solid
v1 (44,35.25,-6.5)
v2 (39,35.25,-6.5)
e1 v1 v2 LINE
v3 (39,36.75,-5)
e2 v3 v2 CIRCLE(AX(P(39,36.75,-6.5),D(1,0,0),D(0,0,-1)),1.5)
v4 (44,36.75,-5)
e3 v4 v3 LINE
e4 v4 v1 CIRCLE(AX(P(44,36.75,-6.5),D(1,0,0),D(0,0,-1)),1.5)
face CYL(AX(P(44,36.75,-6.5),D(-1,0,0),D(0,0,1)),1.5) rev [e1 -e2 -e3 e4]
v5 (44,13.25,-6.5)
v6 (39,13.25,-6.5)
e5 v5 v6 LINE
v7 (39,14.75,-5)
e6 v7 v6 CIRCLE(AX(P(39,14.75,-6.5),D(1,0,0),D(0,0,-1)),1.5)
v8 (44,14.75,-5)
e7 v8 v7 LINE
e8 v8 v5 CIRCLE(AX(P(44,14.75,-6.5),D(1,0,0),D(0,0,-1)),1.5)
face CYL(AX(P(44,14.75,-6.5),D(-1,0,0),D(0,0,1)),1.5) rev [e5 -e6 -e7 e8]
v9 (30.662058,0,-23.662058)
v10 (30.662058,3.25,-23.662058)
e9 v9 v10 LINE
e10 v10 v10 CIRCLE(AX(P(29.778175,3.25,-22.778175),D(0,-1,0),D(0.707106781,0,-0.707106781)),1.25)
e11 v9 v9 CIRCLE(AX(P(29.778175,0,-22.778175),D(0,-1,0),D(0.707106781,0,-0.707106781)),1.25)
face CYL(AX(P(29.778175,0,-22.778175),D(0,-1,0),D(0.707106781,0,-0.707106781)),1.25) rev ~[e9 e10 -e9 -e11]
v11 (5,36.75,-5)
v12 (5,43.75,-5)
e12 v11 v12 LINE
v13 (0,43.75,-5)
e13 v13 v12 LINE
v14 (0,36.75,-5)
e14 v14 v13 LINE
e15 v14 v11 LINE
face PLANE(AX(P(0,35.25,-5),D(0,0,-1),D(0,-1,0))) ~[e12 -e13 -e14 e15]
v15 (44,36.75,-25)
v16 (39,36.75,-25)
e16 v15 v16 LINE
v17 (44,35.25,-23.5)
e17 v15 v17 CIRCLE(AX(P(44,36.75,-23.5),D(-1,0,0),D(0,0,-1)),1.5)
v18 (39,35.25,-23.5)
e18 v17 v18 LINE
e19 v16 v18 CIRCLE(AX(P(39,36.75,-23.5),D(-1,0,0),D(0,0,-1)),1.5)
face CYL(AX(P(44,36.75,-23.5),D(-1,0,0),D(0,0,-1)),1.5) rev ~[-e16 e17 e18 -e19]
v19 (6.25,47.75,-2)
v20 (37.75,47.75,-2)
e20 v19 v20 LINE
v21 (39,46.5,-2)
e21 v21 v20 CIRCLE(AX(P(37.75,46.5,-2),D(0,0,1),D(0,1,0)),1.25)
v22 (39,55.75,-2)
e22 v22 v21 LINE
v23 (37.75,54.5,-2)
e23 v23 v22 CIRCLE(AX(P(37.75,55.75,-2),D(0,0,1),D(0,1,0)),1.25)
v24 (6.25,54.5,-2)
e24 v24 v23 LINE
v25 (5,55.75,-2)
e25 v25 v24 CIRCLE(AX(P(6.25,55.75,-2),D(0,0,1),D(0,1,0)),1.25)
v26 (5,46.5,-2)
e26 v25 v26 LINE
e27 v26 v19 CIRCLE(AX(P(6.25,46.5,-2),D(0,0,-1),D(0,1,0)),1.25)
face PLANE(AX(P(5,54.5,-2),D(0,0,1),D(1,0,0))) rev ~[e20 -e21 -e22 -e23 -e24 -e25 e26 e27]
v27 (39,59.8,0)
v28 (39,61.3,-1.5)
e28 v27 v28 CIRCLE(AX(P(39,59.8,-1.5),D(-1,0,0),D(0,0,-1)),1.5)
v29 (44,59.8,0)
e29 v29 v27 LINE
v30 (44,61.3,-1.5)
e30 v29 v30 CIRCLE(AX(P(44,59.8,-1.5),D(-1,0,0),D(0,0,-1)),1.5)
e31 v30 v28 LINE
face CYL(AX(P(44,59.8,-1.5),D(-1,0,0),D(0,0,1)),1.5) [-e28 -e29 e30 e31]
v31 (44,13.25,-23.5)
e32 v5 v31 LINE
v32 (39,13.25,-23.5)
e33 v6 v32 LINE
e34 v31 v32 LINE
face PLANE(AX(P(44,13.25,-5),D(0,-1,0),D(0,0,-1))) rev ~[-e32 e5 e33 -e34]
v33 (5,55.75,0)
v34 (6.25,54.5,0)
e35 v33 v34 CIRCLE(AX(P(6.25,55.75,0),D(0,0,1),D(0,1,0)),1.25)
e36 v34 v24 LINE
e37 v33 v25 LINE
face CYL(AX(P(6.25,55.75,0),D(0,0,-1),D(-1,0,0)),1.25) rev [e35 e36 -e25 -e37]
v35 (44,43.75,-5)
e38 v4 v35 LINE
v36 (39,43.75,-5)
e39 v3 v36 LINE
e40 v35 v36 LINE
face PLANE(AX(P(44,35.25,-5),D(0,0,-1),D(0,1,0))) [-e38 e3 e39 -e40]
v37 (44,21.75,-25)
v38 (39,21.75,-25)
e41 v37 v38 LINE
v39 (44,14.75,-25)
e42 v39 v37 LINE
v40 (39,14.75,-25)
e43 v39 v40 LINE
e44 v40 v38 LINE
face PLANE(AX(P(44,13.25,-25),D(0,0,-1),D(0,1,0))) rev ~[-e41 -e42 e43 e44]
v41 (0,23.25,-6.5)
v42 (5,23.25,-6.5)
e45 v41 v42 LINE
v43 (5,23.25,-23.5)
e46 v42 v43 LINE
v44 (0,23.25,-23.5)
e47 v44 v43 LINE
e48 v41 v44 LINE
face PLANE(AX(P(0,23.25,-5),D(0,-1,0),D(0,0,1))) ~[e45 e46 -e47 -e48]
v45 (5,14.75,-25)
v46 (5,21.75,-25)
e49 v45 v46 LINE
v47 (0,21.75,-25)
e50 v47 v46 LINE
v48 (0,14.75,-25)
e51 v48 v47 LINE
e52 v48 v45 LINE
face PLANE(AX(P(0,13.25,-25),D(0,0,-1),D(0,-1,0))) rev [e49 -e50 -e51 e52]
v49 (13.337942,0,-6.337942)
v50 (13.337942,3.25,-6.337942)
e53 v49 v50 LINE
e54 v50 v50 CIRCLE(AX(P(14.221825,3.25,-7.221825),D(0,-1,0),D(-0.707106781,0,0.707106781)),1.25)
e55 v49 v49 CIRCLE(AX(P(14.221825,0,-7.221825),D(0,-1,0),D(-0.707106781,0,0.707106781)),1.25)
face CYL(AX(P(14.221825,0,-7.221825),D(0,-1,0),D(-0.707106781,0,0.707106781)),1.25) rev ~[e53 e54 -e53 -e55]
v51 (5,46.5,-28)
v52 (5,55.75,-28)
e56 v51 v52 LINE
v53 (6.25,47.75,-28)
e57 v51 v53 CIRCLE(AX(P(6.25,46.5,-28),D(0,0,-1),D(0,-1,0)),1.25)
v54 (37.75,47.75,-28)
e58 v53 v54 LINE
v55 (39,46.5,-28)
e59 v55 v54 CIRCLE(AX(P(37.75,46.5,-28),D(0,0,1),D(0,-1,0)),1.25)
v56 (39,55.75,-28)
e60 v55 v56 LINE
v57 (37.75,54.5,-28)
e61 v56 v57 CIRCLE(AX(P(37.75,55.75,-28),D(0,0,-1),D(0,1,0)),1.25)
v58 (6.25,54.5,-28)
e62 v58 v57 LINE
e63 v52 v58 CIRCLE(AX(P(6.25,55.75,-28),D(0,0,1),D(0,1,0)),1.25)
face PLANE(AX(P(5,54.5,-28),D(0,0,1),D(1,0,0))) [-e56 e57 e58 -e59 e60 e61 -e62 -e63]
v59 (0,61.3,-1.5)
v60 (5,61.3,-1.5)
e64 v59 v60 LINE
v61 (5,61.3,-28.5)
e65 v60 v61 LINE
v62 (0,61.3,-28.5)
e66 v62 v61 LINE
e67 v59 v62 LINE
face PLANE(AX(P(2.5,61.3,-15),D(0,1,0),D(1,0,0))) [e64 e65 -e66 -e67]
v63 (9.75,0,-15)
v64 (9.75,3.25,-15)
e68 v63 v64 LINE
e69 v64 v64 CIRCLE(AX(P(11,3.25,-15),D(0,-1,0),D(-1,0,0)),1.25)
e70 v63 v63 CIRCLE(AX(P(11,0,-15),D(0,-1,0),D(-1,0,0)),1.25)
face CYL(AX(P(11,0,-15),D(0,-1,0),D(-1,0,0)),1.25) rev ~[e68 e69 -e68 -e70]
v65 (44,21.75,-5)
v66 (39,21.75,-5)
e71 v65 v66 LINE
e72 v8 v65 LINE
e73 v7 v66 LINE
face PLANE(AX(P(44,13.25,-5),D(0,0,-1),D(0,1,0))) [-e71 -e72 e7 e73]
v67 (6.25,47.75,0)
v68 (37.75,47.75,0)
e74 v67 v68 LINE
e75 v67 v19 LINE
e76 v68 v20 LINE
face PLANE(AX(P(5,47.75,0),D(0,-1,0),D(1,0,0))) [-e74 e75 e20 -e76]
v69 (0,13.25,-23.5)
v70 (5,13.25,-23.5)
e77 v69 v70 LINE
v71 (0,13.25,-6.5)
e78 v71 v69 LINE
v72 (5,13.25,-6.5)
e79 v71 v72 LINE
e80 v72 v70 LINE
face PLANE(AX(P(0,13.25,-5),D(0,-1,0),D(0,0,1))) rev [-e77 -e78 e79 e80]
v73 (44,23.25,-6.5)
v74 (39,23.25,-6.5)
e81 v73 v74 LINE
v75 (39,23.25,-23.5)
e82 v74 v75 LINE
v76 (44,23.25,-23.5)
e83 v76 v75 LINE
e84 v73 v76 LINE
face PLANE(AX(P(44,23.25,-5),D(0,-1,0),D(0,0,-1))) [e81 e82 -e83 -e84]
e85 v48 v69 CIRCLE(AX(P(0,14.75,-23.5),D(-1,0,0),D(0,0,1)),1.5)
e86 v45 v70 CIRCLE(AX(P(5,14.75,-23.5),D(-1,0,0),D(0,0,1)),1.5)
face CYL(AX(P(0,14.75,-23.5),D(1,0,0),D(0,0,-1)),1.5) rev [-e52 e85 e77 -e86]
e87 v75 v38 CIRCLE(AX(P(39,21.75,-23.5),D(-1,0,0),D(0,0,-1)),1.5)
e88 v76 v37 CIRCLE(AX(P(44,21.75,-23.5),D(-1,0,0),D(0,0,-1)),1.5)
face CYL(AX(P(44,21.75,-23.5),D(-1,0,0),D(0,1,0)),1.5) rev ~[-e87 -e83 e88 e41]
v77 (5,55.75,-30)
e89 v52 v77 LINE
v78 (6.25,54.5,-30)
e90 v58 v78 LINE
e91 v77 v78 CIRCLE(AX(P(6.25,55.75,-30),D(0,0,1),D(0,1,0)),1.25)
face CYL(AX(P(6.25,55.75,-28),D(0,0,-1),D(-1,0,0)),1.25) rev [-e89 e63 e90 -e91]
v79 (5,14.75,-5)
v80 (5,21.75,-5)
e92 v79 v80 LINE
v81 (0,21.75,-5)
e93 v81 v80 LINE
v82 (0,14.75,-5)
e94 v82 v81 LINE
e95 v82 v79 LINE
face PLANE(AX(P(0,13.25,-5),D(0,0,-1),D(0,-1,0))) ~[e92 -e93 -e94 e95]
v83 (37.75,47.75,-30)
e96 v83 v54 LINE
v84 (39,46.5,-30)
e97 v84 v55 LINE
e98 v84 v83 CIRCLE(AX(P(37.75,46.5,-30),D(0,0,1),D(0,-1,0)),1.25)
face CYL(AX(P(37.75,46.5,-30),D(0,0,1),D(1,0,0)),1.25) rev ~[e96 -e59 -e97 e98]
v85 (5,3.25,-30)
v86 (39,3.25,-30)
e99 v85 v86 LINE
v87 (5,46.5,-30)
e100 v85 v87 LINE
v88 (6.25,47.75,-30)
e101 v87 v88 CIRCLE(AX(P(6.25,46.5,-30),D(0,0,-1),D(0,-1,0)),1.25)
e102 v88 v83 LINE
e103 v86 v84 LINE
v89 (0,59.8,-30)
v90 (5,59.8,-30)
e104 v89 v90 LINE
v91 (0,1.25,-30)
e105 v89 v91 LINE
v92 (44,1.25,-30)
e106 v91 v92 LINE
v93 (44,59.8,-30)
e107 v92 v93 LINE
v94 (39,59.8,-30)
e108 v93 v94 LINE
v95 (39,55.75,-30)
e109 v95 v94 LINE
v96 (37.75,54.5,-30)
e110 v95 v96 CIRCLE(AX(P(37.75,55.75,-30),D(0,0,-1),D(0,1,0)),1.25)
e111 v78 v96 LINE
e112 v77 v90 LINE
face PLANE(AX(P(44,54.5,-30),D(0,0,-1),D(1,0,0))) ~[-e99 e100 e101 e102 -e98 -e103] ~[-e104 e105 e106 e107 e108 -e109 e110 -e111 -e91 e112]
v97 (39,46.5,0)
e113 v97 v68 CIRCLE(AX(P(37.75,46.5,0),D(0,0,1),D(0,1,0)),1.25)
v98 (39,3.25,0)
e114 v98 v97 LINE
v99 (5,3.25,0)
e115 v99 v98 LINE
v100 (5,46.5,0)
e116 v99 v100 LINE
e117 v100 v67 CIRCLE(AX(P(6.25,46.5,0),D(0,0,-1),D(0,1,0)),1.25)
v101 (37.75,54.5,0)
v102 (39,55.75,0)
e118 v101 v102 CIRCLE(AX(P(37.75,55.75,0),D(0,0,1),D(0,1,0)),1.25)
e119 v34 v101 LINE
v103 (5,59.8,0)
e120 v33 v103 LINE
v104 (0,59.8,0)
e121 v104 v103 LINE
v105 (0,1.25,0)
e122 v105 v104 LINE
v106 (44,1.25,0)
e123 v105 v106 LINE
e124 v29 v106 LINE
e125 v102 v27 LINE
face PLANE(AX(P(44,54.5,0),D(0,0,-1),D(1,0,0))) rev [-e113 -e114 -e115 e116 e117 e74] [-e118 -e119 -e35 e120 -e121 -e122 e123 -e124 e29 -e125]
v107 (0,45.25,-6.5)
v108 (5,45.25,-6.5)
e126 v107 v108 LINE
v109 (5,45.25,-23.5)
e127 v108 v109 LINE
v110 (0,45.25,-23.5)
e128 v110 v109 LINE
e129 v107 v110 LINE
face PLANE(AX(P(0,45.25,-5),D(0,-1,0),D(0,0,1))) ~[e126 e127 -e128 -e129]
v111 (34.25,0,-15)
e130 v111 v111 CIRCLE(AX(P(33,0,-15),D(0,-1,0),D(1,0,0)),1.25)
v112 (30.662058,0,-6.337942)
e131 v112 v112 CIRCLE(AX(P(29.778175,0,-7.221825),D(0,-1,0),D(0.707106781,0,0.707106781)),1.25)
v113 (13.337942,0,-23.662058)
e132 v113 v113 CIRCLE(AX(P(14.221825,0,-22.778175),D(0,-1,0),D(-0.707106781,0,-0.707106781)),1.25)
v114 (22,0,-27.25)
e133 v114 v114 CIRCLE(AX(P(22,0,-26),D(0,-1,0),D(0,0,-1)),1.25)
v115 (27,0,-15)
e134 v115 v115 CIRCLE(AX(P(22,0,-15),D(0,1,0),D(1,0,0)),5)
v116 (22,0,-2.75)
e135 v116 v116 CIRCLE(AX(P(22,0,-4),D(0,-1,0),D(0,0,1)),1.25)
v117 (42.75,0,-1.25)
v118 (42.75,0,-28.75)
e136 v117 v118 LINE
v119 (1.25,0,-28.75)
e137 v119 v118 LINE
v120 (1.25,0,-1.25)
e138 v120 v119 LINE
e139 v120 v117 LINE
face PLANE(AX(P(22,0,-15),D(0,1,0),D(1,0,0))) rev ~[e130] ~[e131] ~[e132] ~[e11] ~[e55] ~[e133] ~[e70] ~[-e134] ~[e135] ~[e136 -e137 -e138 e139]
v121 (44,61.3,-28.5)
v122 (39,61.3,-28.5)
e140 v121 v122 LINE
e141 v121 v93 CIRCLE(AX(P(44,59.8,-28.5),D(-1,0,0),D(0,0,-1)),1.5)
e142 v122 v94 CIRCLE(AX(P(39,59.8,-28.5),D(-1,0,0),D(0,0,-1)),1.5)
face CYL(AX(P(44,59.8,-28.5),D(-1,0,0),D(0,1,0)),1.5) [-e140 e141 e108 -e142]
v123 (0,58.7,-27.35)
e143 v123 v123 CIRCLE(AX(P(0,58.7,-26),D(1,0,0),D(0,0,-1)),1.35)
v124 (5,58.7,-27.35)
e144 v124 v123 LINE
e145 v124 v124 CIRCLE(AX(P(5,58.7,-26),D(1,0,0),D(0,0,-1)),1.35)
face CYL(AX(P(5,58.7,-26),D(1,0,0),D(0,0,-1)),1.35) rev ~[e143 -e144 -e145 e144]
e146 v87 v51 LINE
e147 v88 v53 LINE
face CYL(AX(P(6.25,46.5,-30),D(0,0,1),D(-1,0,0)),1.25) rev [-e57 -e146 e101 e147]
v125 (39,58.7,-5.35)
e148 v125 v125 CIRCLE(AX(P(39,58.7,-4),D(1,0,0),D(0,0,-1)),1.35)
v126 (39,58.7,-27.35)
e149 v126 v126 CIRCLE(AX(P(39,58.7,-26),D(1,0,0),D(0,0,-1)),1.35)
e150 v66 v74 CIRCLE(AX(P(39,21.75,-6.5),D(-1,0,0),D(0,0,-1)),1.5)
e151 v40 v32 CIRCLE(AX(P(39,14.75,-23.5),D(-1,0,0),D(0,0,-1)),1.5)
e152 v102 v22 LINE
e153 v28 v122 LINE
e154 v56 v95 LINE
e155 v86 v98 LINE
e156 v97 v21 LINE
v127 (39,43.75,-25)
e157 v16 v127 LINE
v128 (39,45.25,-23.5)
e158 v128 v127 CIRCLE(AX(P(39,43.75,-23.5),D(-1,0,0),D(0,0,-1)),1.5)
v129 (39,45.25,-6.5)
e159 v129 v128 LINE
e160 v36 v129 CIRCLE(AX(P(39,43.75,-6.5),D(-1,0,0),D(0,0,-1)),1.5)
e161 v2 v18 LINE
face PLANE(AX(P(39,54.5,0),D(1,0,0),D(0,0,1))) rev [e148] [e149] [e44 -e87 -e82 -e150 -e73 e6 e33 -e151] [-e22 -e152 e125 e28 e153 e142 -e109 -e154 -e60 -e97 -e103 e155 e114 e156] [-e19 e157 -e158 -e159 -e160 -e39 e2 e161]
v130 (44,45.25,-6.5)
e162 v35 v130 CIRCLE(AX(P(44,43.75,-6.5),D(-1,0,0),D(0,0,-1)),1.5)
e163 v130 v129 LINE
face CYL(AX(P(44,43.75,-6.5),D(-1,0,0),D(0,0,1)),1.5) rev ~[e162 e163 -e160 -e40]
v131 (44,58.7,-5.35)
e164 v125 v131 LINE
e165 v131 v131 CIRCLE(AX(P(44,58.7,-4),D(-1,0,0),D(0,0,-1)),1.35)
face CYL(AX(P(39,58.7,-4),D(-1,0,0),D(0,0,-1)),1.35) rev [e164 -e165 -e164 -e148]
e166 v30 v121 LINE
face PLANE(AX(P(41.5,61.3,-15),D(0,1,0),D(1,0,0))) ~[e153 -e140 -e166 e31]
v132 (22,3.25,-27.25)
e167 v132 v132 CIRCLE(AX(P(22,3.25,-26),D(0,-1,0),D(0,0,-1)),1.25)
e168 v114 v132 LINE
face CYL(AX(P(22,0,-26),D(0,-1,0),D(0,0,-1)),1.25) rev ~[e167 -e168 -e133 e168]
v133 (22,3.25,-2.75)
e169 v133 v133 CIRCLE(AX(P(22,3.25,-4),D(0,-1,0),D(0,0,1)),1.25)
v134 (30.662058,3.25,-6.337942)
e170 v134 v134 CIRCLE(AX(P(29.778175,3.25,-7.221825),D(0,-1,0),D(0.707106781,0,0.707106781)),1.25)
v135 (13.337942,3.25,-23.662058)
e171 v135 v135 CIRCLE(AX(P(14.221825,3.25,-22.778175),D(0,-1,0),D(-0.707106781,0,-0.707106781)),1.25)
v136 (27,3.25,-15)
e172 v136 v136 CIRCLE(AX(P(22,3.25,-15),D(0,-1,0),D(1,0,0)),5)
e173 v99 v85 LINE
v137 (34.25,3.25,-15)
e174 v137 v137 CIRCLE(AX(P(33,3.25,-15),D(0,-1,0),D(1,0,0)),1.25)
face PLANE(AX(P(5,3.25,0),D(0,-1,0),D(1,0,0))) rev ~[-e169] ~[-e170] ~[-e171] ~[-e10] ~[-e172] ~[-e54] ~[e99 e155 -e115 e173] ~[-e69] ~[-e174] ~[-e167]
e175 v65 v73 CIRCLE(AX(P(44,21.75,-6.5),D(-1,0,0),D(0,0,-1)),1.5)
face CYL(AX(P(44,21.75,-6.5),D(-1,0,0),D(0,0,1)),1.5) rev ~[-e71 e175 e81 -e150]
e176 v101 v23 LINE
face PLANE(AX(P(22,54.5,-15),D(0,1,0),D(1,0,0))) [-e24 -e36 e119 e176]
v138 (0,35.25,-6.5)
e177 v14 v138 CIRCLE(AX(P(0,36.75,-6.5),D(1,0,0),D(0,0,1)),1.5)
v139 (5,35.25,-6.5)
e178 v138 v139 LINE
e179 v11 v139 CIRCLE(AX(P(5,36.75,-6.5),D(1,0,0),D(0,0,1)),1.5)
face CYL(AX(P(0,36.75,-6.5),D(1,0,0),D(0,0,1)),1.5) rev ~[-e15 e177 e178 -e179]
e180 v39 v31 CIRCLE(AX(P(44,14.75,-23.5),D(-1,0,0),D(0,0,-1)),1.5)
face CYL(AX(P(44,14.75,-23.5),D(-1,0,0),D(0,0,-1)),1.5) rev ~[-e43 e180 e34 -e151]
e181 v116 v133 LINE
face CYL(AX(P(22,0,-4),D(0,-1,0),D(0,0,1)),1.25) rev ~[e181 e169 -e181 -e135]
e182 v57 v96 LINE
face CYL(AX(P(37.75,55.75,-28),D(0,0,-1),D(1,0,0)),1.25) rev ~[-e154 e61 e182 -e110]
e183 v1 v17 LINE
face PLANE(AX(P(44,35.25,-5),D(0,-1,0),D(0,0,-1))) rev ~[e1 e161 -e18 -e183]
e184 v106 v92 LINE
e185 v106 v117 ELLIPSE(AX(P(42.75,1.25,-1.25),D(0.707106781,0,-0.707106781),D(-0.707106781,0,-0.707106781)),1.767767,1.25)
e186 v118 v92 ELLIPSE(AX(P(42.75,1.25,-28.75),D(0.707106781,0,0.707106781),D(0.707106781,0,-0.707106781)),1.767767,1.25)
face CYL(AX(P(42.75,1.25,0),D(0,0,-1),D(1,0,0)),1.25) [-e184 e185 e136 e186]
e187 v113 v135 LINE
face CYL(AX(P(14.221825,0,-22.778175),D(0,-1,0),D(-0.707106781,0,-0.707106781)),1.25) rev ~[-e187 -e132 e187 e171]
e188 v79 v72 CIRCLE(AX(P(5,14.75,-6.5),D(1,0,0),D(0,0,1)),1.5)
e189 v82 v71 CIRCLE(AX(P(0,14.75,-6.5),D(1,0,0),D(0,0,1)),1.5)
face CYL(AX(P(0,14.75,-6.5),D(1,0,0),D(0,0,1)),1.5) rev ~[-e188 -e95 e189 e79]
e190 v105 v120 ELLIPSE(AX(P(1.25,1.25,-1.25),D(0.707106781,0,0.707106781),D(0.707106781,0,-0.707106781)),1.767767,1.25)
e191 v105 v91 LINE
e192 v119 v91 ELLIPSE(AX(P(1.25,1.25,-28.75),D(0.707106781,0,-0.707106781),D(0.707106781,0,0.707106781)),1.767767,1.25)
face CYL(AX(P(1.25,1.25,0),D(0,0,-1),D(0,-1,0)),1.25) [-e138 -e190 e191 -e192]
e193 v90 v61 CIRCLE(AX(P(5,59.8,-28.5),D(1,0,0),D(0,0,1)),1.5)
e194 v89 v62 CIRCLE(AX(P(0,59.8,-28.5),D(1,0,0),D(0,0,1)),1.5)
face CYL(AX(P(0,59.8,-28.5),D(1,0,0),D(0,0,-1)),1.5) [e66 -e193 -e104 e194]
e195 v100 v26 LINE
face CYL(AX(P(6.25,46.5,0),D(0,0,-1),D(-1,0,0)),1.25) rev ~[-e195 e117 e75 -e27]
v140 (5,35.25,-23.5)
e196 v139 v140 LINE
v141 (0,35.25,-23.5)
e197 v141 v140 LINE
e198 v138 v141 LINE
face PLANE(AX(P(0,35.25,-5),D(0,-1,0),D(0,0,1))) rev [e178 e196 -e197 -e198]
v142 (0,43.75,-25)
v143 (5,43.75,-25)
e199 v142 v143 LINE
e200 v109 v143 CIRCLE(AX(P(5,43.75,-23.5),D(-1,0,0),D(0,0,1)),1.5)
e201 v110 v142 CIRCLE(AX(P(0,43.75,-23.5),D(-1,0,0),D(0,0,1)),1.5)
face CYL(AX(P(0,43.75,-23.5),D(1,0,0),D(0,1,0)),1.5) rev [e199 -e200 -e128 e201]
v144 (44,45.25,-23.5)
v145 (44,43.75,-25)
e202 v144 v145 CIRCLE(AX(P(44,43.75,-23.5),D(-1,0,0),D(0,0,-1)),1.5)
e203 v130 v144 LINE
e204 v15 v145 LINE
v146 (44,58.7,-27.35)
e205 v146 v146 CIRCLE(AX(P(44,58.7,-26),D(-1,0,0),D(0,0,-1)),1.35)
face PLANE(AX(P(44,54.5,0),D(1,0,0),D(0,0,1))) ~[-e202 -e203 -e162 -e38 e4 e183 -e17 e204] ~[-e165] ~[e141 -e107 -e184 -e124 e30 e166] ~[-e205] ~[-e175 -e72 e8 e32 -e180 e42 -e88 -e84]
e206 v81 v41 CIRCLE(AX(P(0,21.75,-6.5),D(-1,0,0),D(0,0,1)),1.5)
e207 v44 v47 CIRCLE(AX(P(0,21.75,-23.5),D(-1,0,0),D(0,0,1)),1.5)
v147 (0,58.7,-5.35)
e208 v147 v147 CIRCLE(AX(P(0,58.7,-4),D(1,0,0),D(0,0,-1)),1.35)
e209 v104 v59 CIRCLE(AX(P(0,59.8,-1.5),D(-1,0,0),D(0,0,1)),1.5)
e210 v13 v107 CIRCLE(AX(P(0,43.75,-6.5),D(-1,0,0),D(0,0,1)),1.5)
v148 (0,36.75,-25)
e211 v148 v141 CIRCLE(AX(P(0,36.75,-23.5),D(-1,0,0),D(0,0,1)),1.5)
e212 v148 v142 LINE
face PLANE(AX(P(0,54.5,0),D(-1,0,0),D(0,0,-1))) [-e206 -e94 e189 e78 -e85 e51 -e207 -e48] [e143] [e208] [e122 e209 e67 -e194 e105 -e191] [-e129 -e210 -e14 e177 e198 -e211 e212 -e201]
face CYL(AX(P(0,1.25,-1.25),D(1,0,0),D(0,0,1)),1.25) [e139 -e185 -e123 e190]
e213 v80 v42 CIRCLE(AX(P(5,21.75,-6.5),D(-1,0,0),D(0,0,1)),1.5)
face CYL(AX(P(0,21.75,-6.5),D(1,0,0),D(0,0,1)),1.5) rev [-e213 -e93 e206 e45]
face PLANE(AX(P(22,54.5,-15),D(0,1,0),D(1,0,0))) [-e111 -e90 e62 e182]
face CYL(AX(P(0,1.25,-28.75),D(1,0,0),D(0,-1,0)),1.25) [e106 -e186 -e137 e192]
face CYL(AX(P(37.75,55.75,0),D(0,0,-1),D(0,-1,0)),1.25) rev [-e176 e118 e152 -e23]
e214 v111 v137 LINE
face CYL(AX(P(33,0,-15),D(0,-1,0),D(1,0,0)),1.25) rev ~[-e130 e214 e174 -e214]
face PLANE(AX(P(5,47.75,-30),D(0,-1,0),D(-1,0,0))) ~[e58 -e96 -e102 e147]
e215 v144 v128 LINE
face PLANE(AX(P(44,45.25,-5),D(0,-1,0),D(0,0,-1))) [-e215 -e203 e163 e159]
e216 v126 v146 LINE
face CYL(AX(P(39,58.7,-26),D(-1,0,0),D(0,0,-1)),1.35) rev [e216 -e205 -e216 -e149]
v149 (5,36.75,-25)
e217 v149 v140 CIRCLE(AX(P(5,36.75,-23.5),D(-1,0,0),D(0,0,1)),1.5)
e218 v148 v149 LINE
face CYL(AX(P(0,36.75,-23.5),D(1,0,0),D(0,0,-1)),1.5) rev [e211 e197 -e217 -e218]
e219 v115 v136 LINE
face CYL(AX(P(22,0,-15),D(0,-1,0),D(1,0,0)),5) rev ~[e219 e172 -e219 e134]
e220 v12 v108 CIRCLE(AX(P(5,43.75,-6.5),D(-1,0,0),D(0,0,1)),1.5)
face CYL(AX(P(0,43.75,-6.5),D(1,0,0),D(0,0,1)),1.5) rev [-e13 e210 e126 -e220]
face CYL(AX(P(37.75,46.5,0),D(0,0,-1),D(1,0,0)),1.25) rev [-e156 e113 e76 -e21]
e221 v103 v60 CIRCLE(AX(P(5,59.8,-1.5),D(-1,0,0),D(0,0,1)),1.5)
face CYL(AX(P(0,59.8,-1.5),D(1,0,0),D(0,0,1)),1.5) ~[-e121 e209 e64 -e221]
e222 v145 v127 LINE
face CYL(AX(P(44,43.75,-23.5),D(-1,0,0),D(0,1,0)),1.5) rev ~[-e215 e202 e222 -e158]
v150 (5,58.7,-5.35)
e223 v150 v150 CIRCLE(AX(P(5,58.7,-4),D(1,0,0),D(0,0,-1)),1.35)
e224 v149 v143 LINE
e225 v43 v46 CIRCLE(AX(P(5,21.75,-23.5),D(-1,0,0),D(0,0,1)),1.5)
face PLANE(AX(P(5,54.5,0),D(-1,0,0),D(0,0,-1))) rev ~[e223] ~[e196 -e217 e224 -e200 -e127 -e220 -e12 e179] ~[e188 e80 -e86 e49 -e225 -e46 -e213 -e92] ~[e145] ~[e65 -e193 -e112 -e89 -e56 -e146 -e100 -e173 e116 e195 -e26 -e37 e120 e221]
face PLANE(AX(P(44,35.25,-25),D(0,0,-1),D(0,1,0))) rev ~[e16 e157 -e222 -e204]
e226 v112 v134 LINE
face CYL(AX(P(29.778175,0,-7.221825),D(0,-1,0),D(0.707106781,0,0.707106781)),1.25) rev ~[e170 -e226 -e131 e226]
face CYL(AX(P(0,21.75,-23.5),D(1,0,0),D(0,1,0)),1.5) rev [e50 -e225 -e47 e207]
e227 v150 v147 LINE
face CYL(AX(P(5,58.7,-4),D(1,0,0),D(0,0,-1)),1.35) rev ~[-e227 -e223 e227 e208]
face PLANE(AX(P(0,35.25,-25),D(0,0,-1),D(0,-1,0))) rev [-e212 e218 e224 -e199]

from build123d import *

# Parameters (mm, degrees)
SKETCH1_W            = 44
SKETCH1_H            = 30
BOSS_EXTRUDE1_DEPTH  = 54.5
SKETCH5_W            = 5
SKETCH5_H            = 30
BOSS_EXTRUDE3_DEPTH  = 6.8
SKETCH9_R            = 1.35
CUT_EXTRUDE6_DEPTH   = 79.604643629
FILLET1_R            = 1.5
FILLET2_R            = 1.25
SKETCH11_W           = 34
SKETCH11_H           = 26
CUT_EXTRUDE7_DEPTH   = 51.25
CUT_EXTRUDE8_REACH   = 83.202
SKETCH13_R           = 5
SKETCH13_R_2         = 1.25
CIRPATTERN1_COUNT    = 8
CUT_EXTRUDE10_REACH  = 83.202
SKETCH15_W           = 20
SKETCH15_H           = 10
FILLET6_R            = 1.5
FILLET6_OF_MIRROR4_R = 1.5
CUT_EXTRUDE11_REACH  = 83.202
SKETCH16_W           = 34
SKETCH16_H           = 44.5
FILLET7_R            = 1.25


with BuildPart() as part:
    # Sketch1 → Boss-Extrude1 (new body)
    with BuildSketch(Plane(origin=(0, 0, 0), x_dir=(1, 0, 0), z_dir=(0, 1, 0))):
        with Locations((22, 15)):
            Rectangle(SKETCH1_W, SKETCH1_H)
    extrude(amount=BOSS_EXTRUDE1_DEPTH)

    # Sketch5 → Boss-Extrude3 (add)
    with BuildSketch(Plane(origin=(0, 54.5, 0), x_dir=(1, 0, 0), z_dir=(0, 1, 0))):
        with Locations((2.5, 15)):
            Rectangle(SKETCH5_W, SKETCH5_H)
    boss_extrude3 = extrude(amount=BOSS_EXTRUDE3_DEPTH)

    # Sketch9 → Cut-Extrude6 (cut, through all)
    with BuildSketch(Plane(origin=(5, 0, 0), x_dir=(0, 0, -1), z_dir=(1, 0, 0))):
        with Locations((26, 58.7)):
            Circle(SKETCH9_R)
        with Locations((4, 58.7)):
            Circle(SKETCH9_R)
    cut_extrude6 = extrude(amount=-CUT_EXTRUDE6_DEPTH, mode=Mode.SUBTRACT)

    # Mirror2: Boss-Extrude3, Cut-Extrude6 across plane
    add(boss_extrude3.mirror(Plane.ZY.offset(-22)))
    add(cut_extrude6.mirror(Plane.ZY.offset(-22)), mode=Mode.SUBTRACT)

    # Fillet1
    fillet1_edges = [part.edges().sort_by_distance(p)[0] for p in [
        (41.5, 61.3, -30),
        (2.5, 61.3, -30),
        (2.5, 61.3, 0),
        (41.5, 61.3, 0),
    ]]
    fillet(fillet1_edges, radius=FILLET1_R)

    # Fillet2
    fillet2_edges = [part.edges().sort_by_distance(p)[0] for p in [
        (0, 0, -15),
        (22, 0, -30),
        (22, 0, 0),
        (44, 0, -15),
    ]]
    fillet(fillet2_edges, radius=FILLET2_R)

    # Sketch11 → Cut-Extrude7 (cut)
    with BuildSketch(Plane(origin=(0, 54.5, 0), x_dir=(1, 0, 0), z_dir=(0, 1, 0))):
        with Locations((22, 15)):
            Rectangle(SKETCH11_W, SKETCH11_H)
    extrude(amount=-CUT_EXTRUDE7_DEPTH, mode=Mode.SUBTRACT)

    # Sketch13 → Cut-Extrude8 (cut, up to next)
    with BuildSketch(Plane.XZ, mode=Mode.PRIVATE) as cut_extrude8_sk1:
        with Locations((22, -15)):
            Circle(SKETCH13_R)
    cut_extrude8_tool1 = extrude(cut_extrude8_sk1.sketch, amount=-CUT_EXTRUDE8_REACH, mode=Mode.PRIVATE) & part.part
    # Sketch13 → Cut-Extrude8 (cut, up to next)
    with BuildSketch(Plane.XZ, mode=Mode.PRIVATE) as cut_extrude8_sk2:
        with Locations((33, -15)):
            Circle(SKETCH13_R_2)
    cut_extrude8_tool2 = extrude(cut_extrude8_sk2.sketch, amount=-CUT_EXTRUDE8_REACH, mode=Mode.PRIVATE) & part.part
    cut_extrude8_1 = cut_extrude8_tool1.solids().sort_by_distance((22, 0, -15))[0]
    add(cut_extrude8_1, mode=Mode.SUBTRACT)
    cut_extrude8_2 = cut_extrude8_tool2.solids().sort_by_distance((33, 0, -15))[0]
    add(cut_extrude8_2, mode=Mode.SUBTRACT)
    cut_extrude8 = cut_extrude8_1 + cut_extrude8_2  # Cut-Extrude8 as one shape, for the pattern or mirror that repeats it

    # CirPattern1: Cut-Extrude8 ×8 about axis
    cirpattern1_axis = Axis((22, 0, -15), (0, -1, 0))
    for i in range(1, CIRPATTERN1_COUNT):
        add(cut_extrude8.rotate(cirpattern1_axis, i * 360 / CIRPATTERN1_COUNT), mode=Mode.SUBTRACT)

    # Sketch15 → Cut-Extrude10 (cut, up to next)
    with BuildSketch(Plane(origin=(44, 0, 0), x_dir=(0, 0, -1), z_dir=(1, 0, 0)), mode=Mode.PRIVATE) as cut_extrude10_sk1:
        with Locations((15, 18.25)):
            Rectangle(SKETCH15_W, SKETCH15_H)
    cut_extrude10_tool1 = extrude(cut_extrude10_sk1.sketch, amount=-CUT_EXTRUDE10_REACH, mode=Mode.PRIVATE) & part.part
    # Sketch15 → Cut-Extrude10 (cut, up to next)
    with BuildSketch(Plane(origin=(44, 0, 0), x_dir=(0, 0, -1), z_dir=(1, 0, 0)), mode=Mode.PRIVATE) as cut_extrude10_sk2:
        with Locations((15, 40.25)):
            Rectangle(SKETCH15_W, SKETCH15_H)
    cut_extrude10_tool2 = extrude(cut_extrude10_sk2.sketch, amount=-CUT_EXTRUDE10_REACH, mode=Mode.PRIVATE) & part.part
    cut_extrude10_1 = cut_extrude10_tool1.solids().sort_by_distance((44, 18.25, -15))[0]
    add(cut_extrude10_1, mode=Mode.SUBTRACT)
    cut_extrude10_2 = cut_extrude10_tool2.solids().sort_by_distance((44, 40.25, -15))[0]
    add(cut_extrude10_2, mode=Mode.SUBTRACT)
    cut_extrude10 = cut_extrude10_1 + cut_extrude10_2  # Cut-Extrude10 as one shape, for the pattern or mirror that repeats it

    # Fillet6
    fillet6_edges = [part.edges().sort_by_distance(p)[0] for p in [
        (41.5, 13.25, -5),
        (41.5, 35.25, -5),
        (41.5, 23.25, -5),
        (41.5, 45.25, -5),
        (41.5, 23.25, -25),
        (41.5, 45.25, -25),
        (41.5, 35.25, -25),
        (41.5, 13.25, -25),
    ]]
    fillet(fillet6_edges, radius=FILLET6_R)

    # Mirror4: Cut-Extrude10 across plane
    add(cut_extrude10.mirror(Plane.ZY.offset(-22)), mode=Mode.SUBTRACT)

    # Fillet6 of Mirror4
    fillet6_of_mirror4_edges = [part.edges().sort_by_distance(p)[0] for p in [
        (2.5, 13.25, -5),
        (2.5, 35.25, -5),
        (2.5, 23.25, -5),
        (2.5, 45.25, -5),
        (2.5, 23.25, -25),
        (2.5, 45.25, -25),
        (2.5, 35.25, -25),
        (2.5, 13.25, -25),
    ]]
    fillet(fillet6_of_mirror4_edges, radius=FILLET6_OF_MIRROR4_R)

    # Sketch16 → Cut-Extrude11 (cut, up to next)
    with BuildSketch(Plane.XY, mode=Mode.PRIVATE) as cut_extrude11_sk1:
        with Locations((22, 25.5)):
            Rectangle(SKETCH16_W, SKETCH16_H)
    cut_extrude11_tool1 = extrude(cut_extrude11_sk1.sketch, amount=-CUT_EXTRUDE11_REACH, mode=Mode.PRIVATE) & part.part
    cut_extrude11 = cut_extrude11_tool1.solids().sort_by_distance((22, 25.5, 0))[0]
    add(cut_extrude11, mode=Mode.SUBTRACT)

    # Mirror5: Cut-Extrude11 across plane
    add(cut_extrude11.mirror(Plane(origin=(0, 0, -15), x_dir=(1, 0, 0), z_dir=(0, 0, -1))), mode=Mode.SUBTRACT)

    # Fillet7
    fillet7_edges = [part.edges().sort_by_distance(p)[0] for p in [
        (5, 47.75, -29),
        (5, 47.75, -1),
        (5, 54.5, -1),
        (5, 54.5, -29),
        (39, 54.5, -1),
        (39, 54.5, -29),
        (39, 47.75, -29),
        (39, 47.75, -1),
    ]]
    fillet(fillet7_edges, radius=FILLET7_R)


solid = part.part
